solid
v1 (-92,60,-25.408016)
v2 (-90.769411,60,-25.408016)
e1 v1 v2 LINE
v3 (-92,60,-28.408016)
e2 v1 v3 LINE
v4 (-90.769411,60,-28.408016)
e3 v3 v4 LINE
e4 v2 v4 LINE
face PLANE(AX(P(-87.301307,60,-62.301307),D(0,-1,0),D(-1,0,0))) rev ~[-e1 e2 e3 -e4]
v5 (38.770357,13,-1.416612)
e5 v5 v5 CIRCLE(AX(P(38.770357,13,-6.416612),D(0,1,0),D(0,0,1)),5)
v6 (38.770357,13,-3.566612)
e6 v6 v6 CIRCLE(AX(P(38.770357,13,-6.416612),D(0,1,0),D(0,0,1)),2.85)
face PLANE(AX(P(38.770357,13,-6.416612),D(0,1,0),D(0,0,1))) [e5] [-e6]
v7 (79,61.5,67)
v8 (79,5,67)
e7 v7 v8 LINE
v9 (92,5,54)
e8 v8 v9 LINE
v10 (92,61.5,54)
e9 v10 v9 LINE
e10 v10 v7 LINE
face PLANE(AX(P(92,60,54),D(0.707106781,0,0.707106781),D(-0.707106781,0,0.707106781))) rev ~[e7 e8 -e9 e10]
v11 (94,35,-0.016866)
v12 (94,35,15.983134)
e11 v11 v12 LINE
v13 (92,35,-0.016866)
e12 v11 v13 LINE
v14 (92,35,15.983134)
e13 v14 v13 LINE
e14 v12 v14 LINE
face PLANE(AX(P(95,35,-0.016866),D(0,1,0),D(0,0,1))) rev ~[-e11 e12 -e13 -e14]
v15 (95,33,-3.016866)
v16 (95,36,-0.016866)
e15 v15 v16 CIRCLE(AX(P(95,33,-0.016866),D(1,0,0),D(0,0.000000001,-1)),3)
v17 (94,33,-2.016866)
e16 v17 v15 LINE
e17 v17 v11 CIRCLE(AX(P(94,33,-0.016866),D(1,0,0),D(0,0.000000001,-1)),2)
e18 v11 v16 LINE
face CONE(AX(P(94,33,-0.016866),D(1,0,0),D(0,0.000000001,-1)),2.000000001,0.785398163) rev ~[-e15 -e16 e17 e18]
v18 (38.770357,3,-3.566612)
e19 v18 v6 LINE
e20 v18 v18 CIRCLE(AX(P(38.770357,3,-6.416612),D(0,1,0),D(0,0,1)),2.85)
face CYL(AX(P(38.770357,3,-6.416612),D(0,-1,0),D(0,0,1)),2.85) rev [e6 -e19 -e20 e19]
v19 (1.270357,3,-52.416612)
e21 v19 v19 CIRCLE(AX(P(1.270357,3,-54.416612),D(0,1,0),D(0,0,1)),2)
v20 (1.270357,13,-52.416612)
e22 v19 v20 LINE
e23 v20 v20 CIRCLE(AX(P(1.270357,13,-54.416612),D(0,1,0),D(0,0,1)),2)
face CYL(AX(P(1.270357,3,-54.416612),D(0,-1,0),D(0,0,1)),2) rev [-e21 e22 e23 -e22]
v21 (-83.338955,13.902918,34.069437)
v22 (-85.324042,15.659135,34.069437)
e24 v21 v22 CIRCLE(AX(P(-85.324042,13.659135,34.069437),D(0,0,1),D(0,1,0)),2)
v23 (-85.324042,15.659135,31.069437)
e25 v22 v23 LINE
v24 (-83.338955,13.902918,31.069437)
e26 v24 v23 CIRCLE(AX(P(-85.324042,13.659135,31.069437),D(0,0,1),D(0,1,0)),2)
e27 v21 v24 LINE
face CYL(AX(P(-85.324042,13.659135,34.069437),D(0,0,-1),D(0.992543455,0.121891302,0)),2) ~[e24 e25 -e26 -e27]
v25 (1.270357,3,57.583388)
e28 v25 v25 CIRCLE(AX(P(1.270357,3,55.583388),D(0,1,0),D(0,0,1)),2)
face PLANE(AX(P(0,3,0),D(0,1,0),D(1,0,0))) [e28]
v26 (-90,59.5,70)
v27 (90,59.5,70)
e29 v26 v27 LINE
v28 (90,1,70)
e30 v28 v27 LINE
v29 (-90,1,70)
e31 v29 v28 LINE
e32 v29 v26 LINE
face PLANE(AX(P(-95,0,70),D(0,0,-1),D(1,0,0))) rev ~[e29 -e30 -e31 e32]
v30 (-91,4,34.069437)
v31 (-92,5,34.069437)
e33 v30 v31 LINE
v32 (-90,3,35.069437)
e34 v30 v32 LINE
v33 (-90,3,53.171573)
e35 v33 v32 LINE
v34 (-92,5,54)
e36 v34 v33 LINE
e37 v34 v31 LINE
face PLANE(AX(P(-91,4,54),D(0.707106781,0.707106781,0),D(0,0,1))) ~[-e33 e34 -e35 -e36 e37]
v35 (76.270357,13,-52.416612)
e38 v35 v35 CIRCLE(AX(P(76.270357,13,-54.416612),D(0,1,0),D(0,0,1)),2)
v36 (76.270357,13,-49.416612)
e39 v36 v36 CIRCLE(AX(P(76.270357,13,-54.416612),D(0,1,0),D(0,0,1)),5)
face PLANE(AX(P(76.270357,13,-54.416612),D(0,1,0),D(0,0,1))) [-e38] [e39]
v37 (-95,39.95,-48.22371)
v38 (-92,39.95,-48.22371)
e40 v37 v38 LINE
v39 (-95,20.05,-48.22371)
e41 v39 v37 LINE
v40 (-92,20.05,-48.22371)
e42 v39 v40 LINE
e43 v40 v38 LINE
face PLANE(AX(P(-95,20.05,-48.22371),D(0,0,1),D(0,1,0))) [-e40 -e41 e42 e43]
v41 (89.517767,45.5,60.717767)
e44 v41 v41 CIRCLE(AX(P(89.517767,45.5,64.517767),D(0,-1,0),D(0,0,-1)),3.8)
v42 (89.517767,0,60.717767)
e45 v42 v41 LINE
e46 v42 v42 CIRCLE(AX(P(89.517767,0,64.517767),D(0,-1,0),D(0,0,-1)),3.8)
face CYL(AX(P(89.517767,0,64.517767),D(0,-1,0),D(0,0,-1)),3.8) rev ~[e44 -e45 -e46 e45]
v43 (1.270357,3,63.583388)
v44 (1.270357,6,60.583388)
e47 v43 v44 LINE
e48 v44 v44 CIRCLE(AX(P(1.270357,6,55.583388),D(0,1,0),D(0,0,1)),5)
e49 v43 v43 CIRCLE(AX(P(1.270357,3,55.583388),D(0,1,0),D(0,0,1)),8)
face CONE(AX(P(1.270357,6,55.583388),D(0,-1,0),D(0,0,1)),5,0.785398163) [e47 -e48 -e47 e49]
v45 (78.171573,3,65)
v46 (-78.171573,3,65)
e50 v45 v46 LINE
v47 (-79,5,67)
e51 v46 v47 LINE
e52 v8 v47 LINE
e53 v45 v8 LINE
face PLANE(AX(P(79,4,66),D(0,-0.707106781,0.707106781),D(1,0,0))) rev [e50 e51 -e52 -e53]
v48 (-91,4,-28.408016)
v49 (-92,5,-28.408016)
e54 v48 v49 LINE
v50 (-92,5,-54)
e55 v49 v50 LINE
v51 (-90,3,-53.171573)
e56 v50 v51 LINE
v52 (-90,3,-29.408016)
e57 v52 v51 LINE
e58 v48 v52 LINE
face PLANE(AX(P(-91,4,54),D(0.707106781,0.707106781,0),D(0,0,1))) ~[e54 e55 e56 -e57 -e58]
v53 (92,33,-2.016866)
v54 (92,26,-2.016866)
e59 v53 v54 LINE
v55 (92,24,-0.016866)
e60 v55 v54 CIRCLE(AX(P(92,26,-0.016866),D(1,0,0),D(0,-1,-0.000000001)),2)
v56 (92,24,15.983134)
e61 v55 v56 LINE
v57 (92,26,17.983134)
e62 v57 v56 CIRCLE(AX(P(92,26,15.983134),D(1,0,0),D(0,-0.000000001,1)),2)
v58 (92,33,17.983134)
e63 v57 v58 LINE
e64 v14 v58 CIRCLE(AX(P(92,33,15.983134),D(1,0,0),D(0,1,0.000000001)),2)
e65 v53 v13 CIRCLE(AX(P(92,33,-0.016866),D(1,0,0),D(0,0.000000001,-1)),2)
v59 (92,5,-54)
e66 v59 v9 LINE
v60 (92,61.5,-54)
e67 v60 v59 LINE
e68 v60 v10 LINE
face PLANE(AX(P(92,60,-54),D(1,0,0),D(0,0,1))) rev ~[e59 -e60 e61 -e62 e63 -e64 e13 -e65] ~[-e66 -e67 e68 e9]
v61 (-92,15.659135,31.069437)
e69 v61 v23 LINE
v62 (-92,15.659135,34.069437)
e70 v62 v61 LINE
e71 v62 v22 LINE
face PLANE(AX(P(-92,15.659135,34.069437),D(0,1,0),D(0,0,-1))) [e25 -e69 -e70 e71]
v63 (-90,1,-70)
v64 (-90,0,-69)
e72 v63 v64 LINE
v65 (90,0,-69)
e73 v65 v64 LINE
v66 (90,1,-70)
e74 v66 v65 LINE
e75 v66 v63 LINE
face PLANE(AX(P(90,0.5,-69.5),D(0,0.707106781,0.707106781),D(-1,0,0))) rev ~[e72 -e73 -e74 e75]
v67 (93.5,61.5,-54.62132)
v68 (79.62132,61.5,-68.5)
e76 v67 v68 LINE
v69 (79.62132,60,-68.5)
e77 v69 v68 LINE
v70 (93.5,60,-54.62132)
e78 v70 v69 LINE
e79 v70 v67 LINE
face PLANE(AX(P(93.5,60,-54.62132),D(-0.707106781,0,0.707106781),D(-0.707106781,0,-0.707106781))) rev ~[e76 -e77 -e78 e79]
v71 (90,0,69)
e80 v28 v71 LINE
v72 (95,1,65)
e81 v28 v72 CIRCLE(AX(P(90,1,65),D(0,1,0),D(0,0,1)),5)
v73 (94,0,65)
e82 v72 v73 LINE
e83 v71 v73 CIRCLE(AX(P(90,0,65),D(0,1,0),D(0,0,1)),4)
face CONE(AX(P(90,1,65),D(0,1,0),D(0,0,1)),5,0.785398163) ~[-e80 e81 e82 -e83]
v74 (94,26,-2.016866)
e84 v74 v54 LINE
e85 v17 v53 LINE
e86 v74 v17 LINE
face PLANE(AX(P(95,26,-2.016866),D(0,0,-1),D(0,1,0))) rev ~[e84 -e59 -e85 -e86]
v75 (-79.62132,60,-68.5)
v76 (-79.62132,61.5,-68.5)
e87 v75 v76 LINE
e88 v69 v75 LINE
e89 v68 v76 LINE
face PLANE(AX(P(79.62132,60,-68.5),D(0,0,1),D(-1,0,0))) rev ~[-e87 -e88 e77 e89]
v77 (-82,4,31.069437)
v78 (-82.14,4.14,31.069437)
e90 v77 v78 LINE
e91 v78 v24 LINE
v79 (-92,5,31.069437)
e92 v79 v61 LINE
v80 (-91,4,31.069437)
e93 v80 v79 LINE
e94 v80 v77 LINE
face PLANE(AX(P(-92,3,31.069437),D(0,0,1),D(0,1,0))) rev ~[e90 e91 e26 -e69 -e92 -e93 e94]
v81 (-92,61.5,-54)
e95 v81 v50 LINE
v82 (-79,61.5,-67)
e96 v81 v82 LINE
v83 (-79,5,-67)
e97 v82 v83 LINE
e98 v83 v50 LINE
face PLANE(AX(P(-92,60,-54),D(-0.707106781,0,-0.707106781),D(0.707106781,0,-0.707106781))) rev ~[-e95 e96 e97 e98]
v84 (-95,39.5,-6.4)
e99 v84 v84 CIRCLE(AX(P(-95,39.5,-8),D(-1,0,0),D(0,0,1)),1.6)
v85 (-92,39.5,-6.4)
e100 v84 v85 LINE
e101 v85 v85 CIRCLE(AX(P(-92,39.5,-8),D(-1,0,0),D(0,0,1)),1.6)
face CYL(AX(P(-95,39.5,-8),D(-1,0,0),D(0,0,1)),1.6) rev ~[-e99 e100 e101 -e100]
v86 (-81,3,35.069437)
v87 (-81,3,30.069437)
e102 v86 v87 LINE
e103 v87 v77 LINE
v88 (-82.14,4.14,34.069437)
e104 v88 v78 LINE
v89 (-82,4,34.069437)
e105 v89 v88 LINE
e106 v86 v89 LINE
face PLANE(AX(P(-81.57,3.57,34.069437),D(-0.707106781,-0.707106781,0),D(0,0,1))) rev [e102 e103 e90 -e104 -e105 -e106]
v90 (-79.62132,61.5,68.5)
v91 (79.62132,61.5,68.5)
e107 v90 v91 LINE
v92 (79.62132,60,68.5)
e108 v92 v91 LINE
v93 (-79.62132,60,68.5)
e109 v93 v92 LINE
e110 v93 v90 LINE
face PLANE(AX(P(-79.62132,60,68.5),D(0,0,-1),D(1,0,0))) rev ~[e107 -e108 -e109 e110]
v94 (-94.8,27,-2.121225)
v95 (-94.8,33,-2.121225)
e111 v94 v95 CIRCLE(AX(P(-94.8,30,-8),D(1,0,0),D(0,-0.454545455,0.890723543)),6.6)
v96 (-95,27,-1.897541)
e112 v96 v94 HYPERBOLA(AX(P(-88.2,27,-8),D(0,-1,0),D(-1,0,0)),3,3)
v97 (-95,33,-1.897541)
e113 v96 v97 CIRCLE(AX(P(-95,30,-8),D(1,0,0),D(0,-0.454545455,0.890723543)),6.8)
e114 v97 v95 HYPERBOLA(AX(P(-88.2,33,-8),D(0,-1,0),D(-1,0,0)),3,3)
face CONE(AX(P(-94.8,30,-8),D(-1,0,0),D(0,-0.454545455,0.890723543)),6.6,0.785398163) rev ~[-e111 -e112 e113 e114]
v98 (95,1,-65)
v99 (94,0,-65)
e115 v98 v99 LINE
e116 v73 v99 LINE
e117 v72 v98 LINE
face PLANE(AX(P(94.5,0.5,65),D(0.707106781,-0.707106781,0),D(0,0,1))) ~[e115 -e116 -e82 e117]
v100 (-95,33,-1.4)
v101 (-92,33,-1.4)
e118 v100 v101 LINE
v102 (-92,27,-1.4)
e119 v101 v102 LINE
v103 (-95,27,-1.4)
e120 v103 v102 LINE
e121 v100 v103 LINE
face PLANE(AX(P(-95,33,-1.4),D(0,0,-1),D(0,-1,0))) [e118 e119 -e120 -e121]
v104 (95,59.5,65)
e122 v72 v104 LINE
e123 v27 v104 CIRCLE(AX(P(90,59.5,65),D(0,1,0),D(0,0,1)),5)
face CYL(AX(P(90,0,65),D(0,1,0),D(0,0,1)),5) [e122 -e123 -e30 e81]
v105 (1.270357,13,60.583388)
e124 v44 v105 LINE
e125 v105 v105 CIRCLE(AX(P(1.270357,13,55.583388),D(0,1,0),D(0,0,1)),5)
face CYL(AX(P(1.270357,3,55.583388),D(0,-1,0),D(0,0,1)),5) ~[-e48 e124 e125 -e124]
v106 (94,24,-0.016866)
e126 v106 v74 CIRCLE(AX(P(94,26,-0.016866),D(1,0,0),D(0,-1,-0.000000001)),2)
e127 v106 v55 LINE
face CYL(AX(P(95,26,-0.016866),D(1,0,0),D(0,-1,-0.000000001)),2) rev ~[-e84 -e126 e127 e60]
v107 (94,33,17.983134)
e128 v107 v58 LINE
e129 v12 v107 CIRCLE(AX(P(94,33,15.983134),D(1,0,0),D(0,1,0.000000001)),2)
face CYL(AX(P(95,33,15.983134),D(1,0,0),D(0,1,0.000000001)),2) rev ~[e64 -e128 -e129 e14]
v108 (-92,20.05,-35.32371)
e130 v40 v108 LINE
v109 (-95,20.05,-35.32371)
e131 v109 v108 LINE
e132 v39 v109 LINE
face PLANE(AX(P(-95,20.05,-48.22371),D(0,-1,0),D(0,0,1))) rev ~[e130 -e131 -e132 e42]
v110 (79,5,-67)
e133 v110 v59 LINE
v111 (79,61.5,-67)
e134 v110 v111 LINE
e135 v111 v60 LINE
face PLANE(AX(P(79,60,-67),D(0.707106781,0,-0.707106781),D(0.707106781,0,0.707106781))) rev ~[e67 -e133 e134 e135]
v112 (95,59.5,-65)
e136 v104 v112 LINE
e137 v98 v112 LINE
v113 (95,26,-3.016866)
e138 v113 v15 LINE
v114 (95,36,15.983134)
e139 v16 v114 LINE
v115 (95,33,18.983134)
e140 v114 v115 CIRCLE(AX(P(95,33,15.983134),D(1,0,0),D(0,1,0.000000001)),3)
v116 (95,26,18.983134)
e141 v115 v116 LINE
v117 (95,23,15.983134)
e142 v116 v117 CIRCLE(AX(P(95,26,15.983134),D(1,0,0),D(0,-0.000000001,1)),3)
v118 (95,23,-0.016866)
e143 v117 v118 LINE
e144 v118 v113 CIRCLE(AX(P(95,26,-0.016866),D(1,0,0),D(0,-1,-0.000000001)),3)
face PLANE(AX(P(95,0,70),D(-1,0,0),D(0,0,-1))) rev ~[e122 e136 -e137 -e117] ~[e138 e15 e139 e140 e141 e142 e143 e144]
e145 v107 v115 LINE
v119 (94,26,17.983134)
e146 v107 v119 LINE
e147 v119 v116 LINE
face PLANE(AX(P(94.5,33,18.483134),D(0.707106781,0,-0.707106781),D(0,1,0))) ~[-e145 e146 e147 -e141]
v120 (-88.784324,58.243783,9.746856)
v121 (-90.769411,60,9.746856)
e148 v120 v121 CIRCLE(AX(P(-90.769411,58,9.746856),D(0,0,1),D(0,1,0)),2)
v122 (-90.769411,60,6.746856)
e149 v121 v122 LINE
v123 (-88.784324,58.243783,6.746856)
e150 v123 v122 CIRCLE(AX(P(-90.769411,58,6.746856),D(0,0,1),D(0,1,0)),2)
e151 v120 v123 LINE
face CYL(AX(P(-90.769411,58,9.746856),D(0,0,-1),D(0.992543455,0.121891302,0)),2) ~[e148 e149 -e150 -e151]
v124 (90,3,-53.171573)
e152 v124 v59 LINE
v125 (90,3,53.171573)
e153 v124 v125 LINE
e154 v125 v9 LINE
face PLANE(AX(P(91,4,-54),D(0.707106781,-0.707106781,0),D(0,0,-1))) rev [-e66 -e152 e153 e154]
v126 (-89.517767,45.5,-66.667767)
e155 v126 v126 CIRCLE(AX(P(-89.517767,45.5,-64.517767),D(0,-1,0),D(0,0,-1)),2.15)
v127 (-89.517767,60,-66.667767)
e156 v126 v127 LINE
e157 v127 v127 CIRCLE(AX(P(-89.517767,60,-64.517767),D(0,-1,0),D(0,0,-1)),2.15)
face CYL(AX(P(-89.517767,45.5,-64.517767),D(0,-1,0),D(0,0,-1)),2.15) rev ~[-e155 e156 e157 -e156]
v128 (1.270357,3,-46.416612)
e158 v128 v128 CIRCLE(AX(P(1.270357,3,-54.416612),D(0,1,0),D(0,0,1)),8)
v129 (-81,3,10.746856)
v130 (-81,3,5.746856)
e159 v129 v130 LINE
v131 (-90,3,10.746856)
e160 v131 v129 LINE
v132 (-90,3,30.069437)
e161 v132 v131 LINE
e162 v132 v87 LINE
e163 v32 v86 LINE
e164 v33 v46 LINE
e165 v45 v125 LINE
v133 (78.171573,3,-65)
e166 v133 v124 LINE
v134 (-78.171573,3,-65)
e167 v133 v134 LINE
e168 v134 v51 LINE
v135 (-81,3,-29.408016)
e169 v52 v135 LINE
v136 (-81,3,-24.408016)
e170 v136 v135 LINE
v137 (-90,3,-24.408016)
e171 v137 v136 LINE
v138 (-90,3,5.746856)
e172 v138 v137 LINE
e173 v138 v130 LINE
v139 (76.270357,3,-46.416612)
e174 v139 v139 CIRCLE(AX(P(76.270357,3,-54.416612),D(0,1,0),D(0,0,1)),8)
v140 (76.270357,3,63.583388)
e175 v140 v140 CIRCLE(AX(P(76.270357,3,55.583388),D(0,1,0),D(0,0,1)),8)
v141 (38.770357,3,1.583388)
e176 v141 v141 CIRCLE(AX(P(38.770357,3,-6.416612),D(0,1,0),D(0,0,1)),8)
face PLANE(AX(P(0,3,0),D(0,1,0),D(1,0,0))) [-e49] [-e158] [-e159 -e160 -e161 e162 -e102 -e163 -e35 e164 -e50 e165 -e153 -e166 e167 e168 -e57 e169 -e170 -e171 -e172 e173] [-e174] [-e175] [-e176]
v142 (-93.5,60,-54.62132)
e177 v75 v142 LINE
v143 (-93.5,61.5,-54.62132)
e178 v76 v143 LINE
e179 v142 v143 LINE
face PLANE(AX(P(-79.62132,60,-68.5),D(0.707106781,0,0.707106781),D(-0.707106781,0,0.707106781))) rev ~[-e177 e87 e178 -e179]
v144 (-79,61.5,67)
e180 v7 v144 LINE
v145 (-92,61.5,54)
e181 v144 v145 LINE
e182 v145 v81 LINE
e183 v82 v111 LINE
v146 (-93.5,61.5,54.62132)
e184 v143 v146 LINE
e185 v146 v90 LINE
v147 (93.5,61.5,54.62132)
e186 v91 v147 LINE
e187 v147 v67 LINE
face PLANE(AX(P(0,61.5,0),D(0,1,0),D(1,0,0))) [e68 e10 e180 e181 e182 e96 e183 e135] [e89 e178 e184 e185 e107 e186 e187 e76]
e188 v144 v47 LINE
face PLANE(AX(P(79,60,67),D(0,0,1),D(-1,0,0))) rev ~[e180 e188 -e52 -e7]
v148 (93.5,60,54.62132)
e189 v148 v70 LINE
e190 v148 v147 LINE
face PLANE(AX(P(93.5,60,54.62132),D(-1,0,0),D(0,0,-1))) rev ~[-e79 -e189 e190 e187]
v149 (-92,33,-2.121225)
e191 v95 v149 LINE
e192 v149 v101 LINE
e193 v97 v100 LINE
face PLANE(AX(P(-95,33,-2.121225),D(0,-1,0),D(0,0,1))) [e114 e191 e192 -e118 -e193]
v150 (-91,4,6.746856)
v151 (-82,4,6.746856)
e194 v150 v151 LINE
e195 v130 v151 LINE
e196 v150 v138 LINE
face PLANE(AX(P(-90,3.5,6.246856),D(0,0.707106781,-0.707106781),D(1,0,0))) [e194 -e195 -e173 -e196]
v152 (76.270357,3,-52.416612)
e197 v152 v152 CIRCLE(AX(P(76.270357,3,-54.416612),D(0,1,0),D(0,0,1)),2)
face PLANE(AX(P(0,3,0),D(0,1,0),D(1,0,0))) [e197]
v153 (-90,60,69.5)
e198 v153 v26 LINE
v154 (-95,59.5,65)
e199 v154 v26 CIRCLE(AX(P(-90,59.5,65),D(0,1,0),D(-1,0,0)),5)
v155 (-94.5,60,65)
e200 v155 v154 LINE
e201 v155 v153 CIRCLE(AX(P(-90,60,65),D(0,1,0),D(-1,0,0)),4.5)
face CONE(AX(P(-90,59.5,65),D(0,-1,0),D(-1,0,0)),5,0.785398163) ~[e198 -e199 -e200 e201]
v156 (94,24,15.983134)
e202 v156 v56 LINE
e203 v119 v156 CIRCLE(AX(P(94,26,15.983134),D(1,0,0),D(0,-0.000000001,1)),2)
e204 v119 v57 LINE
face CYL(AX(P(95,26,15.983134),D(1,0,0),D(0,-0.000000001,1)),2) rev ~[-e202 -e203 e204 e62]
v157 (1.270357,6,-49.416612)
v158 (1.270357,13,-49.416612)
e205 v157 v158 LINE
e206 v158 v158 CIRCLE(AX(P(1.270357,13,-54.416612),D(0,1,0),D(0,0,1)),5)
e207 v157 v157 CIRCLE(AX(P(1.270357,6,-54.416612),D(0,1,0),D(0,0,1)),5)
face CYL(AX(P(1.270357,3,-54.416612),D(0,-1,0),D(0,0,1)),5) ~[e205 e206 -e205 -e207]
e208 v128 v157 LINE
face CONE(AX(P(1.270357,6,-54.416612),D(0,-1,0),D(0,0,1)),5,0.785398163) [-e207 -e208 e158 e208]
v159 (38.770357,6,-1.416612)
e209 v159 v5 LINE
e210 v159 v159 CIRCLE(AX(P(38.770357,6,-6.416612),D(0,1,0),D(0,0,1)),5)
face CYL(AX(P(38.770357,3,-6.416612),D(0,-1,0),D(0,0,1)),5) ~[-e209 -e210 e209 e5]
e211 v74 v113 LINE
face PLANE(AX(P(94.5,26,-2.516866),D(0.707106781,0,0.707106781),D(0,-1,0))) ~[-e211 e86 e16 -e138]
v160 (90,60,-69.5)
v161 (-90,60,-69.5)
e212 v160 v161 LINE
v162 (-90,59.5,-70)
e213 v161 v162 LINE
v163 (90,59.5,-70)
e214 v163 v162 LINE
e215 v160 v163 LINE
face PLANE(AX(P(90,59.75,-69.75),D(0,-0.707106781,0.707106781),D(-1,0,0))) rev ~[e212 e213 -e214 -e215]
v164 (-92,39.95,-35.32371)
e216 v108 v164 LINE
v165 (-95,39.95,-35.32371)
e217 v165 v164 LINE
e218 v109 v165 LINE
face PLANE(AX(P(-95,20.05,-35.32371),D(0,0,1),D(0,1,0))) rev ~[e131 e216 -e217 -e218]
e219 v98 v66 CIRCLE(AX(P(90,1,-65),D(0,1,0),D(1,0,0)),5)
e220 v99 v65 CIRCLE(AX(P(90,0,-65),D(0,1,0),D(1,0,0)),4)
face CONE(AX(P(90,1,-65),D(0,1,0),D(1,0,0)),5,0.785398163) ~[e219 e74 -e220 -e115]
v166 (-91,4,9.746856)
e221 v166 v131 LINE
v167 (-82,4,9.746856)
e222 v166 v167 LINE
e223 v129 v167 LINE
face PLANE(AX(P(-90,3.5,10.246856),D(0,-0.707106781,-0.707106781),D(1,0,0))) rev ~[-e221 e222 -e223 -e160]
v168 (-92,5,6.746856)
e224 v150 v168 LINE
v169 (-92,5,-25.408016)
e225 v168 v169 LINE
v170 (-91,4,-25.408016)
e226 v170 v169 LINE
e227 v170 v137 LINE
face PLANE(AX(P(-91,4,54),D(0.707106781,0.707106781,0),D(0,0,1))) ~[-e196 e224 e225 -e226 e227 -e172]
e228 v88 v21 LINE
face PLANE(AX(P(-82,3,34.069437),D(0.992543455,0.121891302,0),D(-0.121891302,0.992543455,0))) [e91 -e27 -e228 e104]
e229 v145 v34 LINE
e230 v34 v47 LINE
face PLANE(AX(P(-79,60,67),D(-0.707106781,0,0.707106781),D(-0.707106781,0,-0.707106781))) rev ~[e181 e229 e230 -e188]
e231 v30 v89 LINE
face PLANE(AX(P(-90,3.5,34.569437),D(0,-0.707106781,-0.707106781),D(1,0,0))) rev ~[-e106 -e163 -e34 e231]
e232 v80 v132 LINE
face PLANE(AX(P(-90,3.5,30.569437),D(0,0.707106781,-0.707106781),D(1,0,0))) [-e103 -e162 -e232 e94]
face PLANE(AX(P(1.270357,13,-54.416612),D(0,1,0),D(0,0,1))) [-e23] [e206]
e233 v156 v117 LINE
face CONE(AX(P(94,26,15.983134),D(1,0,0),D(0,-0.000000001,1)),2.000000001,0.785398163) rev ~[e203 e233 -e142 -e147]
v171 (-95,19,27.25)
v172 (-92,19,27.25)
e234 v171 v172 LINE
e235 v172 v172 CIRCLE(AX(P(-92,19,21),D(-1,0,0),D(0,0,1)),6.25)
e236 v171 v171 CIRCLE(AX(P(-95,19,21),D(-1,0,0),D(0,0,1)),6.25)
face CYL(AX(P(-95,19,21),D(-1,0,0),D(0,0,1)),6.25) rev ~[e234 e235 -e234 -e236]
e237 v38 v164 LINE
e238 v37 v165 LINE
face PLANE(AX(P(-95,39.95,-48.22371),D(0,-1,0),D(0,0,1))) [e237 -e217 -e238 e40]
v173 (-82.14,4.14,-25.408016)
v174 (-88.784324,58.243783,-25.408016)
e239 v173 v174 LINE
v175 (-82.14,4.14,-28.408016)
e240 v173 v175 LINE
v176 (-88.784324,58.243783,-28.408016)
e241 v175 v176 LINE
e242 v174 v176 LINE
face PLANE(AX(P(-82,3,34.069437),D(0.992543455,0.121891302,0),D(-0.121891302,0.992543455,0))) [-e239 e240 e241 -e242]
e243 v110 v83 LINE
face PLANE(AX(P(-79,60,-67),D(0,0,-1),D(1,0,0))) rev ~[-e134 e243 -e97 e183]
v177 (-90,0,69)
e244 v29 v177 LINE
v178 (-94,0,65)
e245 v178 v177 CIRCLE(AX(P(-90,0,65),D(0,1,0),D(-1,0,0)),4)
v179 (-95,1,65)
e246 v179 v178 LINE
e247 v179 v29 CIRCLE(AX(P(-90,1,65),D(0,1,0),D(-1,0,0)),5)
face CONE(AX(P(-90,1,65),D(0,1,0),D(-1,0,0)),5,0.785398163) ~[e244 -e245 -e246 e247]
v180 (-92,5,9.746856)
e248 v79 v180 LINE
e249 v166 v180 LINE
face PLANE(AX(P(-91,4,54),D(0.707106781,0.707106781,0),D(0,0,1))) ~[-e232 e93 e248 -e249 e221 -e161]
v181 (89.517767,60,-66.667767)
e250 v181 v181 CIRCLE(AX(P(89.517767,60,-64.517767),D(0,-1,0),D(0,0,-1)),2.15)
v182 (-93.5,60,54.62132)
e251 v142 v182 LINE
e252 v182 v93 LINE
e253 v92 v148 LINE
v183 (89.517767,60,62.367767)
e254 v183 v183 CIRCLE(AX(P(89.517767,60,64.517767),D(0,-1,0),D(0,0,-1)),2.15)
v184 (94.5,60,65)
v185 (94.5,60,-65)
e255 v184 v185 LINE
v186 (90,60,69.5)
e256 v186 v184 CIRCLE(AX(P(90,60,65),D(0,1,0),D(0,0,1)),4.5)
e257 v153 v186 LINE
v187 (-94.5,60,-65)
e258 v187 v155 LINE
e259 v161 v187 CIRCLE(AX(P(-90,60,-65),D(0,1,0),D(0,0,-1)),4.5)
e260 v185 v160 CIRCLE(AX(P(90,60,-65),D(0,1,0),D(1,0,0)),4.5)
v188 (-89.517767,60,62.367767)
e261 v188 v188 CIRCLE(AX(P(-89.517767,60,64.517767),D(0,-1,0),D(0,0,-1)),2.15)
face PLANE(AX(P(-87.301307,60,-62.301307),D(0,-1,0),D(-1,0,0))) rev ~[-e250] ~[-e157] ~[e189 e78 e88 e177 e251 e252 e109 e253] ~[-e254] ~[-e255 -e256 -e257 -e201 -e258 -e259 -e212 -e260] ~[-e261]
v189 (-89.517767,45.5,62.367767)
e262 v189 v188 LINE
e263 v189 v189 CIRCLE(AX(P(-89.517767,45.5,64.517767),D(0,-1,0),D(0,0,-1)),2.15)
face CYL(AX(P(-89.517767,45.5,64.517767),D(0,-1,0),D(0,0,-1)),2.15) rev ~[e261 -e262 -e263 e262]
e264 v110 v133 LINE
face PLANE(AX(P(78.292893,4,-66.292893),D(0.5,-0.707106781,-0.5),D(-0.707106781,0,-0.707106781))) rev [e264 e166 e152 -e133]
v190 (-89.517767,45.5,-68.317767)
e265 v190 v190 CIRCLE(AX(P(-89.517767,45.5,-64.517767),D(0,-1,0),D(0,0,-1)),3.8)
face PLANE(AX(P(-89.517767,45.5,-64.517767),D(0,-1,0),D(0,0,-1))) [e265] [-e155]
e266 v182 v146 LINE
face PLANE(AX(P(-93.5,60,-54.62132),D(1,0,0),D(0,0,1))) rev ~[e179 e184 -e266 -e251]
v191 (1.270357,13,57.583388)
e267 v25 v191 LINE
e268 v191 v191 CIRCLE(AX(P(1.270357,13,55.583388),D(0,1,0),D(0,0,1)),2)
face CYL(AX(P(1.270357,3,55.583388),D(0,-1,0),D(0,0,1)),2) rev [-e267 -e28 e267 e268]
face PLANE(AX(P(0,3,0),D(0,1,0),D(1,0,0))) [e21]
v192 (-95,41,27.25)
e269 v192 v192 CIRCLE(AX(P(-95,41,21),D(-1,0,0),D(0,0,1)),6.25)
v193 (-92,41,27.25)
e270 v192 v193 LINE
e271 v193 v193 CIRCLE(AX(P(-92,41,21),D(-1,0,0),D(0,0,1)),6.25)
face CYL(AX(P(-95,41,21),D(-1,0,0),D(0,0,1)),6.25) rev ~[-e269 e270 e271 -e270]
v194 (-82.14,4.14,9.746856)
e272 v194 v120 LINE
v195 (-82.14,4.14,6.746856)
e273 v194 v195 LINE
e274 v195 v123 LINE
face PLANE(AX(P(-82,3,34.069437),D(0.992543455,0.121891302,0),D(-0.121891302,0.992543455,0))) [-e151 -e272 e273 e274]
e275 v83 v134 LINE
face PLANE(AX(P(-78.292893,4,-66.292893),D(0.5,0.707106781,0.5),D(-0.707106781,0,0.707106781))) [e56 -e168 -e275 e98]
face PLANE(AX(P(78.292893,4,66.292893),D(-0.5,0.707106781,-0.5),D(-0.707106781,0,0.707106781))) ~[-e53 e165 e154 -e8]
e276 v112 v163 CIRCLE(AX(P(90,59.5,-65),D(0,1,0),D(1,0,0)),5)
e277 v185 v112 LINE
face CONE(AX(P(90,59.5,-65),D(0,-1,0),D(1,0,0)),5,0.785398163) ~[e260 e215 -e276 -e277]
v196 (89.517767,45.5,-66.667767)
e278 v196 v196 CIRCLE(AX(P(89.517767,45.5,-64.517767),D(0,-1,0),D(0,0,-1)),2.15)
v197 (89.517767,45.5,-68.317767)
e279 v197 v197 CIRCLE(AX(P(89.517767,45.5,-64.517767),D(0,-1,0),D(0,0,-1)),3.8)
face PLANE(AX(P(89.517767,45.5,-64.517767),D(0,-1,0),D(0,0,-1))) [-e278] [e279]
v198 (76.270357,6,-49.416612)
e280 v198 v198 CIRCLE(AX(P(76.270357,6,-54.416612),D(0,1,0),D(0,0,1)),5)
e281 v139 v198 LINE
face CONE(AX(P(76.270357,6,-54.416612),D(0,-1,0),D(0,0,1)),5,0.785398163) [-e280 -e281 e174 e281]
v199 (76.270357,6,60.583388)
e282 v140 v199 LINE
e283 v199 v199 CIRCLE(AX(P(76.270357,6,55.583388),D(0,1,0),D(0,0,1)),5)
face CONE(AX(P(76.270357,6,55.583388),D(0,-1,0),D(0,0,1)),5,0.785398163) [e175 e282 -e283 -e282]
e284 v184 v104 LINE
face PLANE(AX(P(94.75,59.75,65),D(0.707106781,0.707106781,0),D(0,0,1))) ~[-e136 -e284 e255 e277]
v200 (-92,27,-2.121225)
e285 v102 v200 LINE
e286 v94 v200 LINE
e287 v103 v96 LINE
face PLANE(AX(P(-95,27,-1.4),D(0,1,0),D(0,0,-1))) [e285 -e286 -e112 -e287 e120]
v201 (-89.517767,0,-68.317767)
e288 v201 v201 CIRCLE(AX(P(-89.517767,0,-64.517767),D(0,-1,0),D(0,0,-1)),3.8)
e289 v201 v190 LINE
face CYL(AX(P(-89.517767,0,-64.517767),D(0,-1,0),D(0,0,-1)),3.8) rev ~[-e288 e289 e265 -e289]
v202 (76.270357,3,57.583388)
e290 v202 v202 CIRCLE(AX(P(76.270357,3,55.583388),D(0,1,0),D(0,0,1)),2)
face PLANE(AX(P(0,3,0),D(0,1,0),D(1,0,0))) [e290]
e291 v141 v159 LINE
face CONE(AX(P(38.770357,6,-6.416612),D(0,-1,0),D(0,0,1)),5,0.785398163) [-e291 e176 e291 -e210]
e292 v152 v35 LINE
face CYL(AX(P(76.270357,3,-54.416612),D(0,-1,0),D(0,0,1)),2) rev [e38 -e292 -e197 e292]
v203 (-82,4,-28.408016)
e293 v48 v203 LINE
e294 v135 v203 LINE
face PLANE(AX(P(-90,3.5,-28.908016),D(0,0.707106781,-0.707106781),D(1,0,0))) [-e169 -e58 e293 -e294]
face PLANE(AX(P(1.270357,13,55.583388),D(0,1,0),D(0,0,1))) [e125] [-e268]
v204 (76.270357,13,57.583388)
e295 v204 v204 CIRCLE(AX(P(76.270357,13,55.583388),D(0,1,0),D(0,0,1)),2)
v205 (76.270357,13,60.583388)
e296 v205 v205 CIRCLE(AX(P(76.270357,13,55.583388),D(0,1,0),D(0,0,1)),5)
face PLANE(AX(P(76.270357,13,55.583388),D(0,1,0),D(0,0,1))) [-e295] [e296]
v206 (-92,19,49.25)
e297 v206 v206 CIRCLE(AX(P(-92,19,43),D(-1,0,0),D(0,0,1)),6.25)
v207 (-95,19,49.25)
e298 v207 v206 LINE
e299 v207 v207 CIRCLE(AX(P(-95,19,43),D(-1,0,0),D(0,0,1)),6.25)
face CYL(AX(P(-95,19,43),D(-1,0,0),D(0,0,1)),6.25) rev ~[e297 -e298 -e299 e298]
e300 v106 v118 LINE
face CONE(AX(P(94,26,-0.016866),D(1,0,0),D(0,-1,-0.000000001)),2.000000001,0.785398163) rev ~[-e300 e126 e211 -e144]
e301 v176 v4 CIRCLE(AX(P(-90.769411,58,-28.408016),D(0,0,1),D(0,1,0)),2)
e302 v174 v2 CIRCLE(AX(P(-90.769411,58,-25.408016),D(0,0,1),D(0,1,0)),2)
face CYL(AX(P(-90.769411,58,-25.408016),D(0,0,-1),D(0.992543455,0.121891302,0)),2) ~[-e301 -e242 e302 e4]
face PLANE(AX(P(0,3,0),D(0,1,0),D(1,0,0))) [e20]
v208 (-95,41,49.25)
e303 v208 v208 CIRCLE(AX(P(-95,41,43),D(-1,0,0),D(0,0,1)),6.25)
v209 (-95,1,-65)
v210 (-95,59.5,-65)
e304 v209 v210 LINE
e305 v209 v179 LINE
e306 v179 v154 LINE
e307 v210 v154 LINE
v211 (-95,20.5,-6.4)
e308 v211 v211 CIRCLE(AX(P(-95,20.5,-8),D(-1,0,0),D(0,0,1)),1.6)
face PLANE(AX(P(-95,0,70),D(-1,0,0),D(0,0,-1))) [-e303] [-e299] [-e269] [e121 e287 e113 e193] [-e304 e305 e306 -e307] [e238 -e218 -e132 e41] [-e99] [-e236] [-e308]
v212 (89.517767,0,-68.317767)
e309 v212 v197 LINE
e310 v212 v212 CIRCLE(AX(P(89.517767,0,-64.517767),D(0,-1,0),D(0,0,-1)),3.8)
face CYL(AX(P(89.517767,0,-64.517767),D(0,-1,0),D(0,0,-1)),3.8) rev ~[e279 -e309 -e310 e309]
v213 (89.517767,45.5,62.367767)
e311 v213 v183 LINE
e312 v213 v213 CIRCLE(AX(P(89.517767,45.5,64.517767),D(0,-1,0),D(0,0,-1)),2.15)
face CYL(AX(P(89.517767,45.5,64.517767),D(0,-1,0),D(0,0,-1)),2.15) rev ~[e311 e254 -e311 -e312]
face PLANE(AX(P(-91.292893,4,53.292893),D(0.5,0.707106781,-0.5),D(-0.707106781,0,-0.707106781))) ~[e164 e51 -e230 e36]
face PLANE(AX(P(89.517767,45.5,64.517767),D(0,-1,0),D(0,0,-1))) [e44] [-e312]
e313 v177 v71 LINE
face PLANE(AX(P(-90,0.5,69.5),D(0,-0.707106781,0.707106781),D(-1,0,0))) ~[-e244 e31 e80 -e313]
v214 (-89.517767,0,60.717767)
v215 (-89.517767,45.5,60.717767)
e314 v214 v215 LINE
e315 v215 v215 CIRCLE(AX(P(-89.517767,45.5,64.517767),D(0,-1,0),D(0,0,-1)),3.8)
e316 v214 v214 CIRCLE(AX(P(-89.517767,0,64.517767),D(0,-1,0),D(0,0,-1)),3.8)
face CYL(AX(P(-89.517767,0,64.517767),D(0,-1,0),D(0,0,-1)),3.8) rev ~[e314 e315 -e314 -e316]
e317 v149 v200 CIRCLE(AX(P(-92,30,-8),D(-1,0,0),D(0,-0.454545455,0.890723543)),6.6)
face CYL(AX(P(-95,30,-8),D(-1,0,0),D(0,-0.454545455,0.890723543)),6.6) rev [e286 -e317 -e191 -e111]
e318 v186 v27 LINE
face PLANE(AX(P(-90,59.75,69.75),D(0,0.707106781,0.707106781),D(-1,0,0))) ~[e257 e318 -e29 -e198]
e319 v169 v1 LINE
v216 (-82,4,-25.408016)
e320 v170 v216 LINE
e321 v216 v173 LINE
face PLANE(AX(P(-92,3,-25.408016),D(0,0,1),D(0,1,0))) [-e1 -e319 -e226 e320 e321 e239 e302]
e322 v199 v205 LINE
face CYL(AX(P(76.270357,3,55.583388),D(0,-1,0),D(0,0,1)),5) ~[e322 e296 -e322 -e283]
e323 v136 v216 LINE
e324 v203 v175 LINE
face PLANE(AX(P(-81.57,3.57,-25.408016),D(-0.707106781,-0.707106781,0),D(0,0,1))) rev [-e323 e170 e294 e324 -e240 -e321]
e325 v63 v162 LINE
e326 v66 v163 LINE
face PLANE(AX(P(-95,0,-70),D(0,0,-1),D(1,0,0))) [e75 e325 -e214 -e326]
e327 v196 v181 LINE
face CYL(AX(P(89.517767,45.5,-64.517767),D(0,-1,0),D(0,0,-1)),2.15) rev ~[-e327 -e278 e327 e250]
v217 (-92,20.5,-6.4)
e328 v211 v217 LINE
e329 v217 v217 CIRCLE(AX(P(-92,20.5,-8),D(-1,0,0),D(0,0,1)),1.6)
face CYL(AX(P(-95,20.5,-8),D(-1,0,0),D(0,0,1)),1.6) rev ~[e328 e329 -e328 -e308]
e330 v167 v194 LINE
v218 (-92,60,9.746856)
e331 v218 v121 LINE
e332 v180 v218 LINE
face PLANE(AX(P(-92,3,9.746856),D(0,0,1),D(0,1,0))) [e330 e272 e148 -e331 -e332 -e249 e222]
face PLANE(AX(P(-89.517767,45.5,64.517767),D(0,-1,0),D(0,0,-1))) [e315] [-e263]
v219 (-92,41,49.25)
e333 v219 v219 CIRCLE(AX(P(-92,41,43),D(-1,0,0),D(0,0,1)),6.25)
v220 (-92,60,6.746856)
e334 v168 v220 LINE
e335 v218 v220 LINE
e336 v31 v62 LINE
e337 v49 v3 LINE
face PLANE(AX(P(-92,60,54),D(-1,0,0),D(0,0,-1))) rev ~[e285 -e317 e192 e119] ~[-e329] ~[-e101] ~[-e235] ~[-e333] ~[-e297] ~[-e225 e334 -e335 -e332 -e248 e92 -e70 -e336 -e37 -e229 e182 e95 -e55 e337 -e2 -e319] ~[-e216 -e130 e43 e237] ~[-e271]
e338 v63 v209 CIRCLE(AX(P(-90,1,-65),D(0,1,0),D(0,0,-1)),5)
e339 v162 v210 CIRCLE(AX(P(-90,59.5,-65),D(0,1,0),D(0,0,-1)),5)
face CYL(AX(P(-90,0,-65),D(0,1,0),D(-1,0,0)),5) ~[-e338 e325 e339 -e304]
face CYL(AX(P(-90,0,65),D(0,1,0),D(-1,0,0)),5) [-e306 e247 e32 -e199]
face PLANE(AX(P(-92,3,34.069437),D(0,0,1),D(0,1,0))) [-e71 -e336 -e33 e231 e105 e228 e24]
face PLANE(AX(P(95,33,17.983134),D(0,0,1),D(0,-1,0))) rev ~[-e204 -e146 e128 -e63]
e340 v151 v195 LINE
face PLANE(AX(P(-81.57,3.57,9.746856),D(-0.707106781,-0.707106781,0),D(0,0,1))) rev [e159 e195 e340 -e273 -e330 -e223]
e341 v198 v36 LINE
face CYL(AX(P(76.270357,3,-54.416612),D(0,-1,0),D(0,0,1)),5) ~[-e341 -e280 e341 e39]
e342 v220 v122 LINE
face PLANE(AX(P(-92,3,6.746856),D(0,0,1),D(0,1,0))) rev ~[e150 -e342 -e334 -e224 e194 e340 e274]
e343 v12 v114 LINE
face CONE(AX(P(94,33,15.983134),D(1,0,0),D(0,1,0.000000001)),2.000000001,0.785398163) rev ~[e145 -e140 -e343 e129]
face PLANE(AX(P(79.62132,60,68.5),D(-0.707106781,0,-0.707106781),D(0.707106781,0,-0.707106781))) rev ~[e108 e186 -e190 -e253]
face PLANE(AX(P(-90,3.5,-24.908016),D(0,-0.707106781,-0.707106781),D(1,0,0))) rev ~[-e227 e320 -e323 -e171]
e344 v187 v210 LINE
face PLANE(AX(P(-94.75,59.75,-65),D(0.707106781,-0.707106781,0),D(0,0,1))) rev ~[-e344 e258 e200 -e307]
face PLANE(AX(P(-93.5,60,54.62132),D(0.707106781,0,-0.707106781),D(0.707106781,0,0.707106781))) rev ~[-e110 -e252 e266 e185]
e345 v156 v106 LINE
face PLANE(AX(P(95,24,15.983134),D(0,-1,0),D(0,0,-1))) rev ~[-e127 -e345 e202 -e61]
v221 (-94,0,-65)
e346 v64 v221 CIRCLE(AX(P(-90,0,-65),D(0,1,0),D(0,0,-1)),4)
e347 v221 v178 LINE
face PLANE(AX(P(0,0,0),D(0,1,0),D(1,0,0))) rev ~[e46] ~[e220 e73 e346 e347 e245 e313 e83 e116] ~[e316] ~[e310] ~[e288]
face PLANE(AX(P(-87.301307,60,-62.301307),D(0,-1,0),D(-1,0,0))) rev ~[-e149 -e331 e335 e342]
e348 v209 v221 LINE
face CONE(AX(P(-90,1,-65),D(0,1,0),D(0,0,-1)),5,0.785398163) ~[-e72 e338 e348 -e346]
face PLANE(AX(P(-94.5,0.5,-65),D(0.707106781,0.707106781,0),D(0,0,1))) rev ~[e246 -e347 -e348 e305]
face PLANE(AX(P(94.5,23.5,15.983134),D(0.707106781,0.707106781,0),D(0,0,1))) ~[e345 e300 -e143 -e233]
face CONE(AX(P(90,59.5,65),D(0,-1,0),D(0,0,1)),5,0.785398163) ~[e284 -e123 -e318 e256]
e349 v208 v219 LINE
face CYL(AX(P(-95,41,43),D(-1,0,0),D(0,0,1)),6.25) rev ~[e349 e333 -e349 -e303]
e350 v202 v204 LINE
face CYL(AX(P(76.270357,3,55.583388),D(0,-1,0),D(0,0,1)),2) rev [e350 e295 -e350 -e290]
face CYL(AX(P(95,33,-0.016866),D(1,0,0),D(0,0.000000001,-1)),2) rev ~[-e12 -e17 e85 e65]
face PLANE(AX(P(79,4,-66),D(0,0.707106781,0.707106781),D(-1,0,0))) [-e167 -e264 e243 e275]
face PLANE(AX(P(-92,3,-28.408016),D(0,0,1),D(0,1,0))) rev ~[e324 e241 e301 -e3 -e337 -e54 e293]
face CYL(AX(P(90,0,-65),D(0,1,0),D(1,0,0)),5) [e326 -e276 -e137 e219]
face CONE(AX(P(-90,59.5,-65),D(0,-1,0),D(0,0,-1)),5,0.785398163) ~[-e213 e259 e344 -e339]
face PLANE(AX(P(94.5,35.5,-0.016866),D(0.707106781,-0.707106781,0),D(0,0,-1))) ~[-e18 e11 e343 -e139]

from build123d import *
from OCP.BRepFilletAPI import BRepFilletAPI_MakeChamfer

# Parameters (mm, degrees)
SKETCH2_W                      = 190
SKETCH2_H                      = 140
ENCLOSURE_BODY_DEPTH           = 60
FILLET1_R                      = 5
SHELL1_T                       = -3
SKETCH3_R                      = 5
SKETCH3_R_2                    = 2
SKETCH3_R_3                    = 2.85
PCB_SUPPORTS_DEPTH             = 10
ENCLOSURE_START                = 57
ENCLOSURE_CORNER_FLANGES_DEPTH = 57
SKETCH8_R                      = 3.8
CUT_EXTRUDE1_DEPTH             = 45.5
SKETCH9_R                      = 2.15
CUT_EXTRUDE2_DEPTH             = 127.472328989
CHAMFER1_SIZE                  = 2
USB_CUTOUT_DEPTH               = 6
SKETCH11_R                     = 1.6
SKETCH11_R_2                   = 6.25
SKETCH11_W                     = 12.9
SKETCH11_H                     = 19.9
BUTTON_CUTOUTS_DEPTH           = 6
CHAMFER3_SIZE                  = 1
SKETCH15_W                     = 3
SKETCH15_H                     = 12.65913529
SKETCH15_H_2                   = 57
BOSS_EXTRUDE6_DEPTH            = 10
CUT_EXTRUDE3_REACH             = 155.152
CHAMFER4_SIZE                  = 3
FILLET2_R                      = 2
BOSS_EXTRUDE7_DEPTH            = 1.5
CHAMFER5_SIZE                  = 1
CHAMFER5_SIZE2                 = 1.148564321
CHAMFER6_SIZE                  = 1
CHAMFER7_SIZE                  = 0.2
CHAMFER8_SIZE                  = 0.5


with BuildPart() as part:
    # Sketch2 → Enclosure body (new body)
    with BuildSketch(Plane(origin=(0, 0, 0), x_dir=(1, 0, 0), z_dir=(0, 1, 0))):
        Rectangle(SKETCH2_W, SKETCH2_H)
    extrude(amount=ENCLOSURE_BODY_DEPTH)

    # Fillet1
    fillet1_edges = [part.edges().sort_by_distance(p)[0] for p in [
        (95, 30, 70),
        (-95, 30, 70),
        (-95, 30, -70),
        (95, 30, -70),
    ]]
    fillet(fillet1_edges, radius=FILLET1_R)

    # Shell1
    shell1_openings = [part.faces().sort_by_distance(p)[0] for p in [
        (0, 60, 0),
    ]]
    offset(amount=SHELL1_T, openings=shell1_openings, kind=Kind.INTERSECTION)

    # Sketch3 → PCB Supports (add)
    # profile 1 of 5: a face of its own
    with BuildSketch(Plane(origin=(0, 3, 0), x_dir=(1, 0, 0), z_dir=(0, 1, 0))):
        with Locations(Location((1.270356621, 54.416611673, 0), (0, 0, 270))):
            Circle(SKETCH3_R)
        with Locations(Location((1.270356621, 54.416611673, 0), (0, 0, 270))):
            Circle(SKETCH3_R_2, mode=Mode.SUBTRACT)
    # profile 2 of 5: a face of its own
    with BuildSketch(Plane(origin=(0, 3, 0), x_dir=(1, 0, 0), z_dir=(0, 1, 0))):
        with Locations(Location((76.270356621, 54.416611673, 0), (0, 0, 270))):
            Circle(SKETCH3_R)
        with Locations(Location((76.270356621, 54.416611673, 0), (0, 0, 270))):
            Circle(SKETCH3_R_2, mode=Mode.SUBTRACT)
    # profile 3 of 5: a face of its own
    with BuildSketch(Plane(origin=(0, 3, 0), x_dir=(1, 0, 0), z_dir=(0, 1, 0))):
        with Locations(Location((76.270356621, -55.583388327, 0), (0, 0, 270))):
            Circle(SKETCH3_R)
        with Locations(Location((76.270356621, -55.583388327, 0), (0, 0, 270))):
            Circle(SKETCH3_R_2, mode=Mode.SUBTRACT)
    # profile 4 of 5: a face of its own
    with BuildSketch(Plane(origin=(0, 3, 0), x_dir=(1, 0, 0), z_dir=(0, 1, 0))):
        with Locations(Location((1.270356621, -55.583388327, 0), (0, 0, 270))):
            Circle(SKETCH3_R)
        with Locations(Location((1.270356621, -55.583388327, 0), (0, 0, 270))):
            Circle(SKETCH3_R_2, mode=Mode.SUBTRACT)
    # profile 5 of 5: a face of its own
    with BuildSketch(Plane(origin=(0, 3, 0), x_dir=(1, 0, 0), z_dir=(0, 1, 0))):
        with Locations(Location((38.770356621, 6.416611673, 0), (0, 0, 270))):
            Circle(SKETCH3_R)
        with Locations(Location((38.770356621, 6.416611673, 0), (0, 0, 270))):
            Circle(SKETCH3_R_3, mode=Mode.SUBTRACT)
    extrude(amount=PCB_SUPPORTS_DEPTH)

    # Sketch6 → Enclosure corner flanges (add)
    with BuildSketch(Plane(origin=(0, 3, 0), x_dir=(1, 0, 0), z_dir=(0, 1, 0)).offset(ENCLOSURE_START)):
        with BuildLine():
            Line((-79, 67), (-92, 54))
            Line((-92, 54), (-92, 65))
            ThreePointArc((-92, 65), (-91.414213562, 66.414213562), (-90, 67))
            Line((-90, 67), (-79, 67))
        make_face()
        with BuildLine():
            Line((-92, -54), (-79, -67))
            Line((-79, -67), (-90, -67))
            ThreePointArc((-90, -67), (-91.414213562, -66.414213562), (-92, -65))
            Line((-92, -65), (-92, -54))
        make_face()
        with BuildLine():
            Line((79, -67), (92, -54))
            Line((92, -54), (92, -65))
            ThreePointArc((92, -65), (91.414213562, -66.414213562), (90, -67))
            Line((90, -67), (79, -67))
        make_face()
        with BuildLine():
            Line((79, 67), (92, 54))
            Line((92, 54), (92, 65))
            ThreePointArc((92, 65), (91.414213562, 66.414213562), (90, 67))
            Line((90, 67), (79, 67))
        make_face()
    extrude(amount=-ENCLOSURE_CORNER_FLANGES_DEPTH)

    # Sketch8 → Cut-Extrude1 (cut)
    with BuildSketch(Plane.XZ):
        with Locations(Location((89.517766953, -64.517766953, 0), (0, 0, 270))):
            Circle(SKETCH8_R)
        with Locations(Location((89.517766953, 64.517766953, 0), (0, 0, 270))):
            Circle(SKETCH8_R)
        with Locations(Location((-89.517766953, 64.517766953, 0), (0, 0, 270))):
            Circle(SKETCH8_R)
        with Locations(Location((-89.517766953, -64.517766953, 0), (0, 0, 270))):
            Circle(SKETCH8_R)
    extrude(amount=-CUT_EXTRUDE1_DEPTH, mode=Mode.SUBTRACT)

    # Sketch9 → Cut-Extrude2 (cut, through all)
    with BuildSketch(Plane.XZ.offset(-45.5)):
        with Locations(Location((-89.517766953, 64.517766953, 0), (0, 0, 270))):
            Circle(SKETCH9_R)
        with Locations(Location((89.517766953, 64.517766953, 0), (0, 0, 270))):
            Circle(SKETCH9_R)
        with Locations(Location((89.517766953, -64.517766953, 0), (0, 0, 270))):
            Circle(SKETCH9_R)
        with Locations(Location((-89.517766953, -64.517766953, 0), (0, 0, 270))):
            Circle(SKETCH9_R)
    extrude(amount=-CUT_EXTRUDE2_DEPTH, mode=Mode.SUBTRACT)

    # Chamfer1
    chamfer1_edges = [part.edges().sort_by_distance(p)[0] for p in [
        (0, 3, 67),
        (92, 3, 0),
        (0, 3, -67),
        (-92, 3, 0),
        (-85.5, 3, 60.5),
        (85.5, 3, -60.5),
        (-85.5, 3, -60.5),
        (85.5, 3, 60.5),
    ]]
    chamfer(chamfer1_edges, length=CHAMFER1_SIZE)

    # Sketch10 → USB cutout (cut)
    with BuildSketch(Plane(origin=(95, 0, -30), x_dir=(0, 0, 1), z_dir=(-1, 0, 0))):
        with BuildLine():
            Line((29.983133645, 35), (45.983133645, 35))
            ThreePointArc((45.983133645, 35), (47.397347207, 34.414213562), (47.983133645, 33))
            Line((47.983133645, 33), (47.983133645, 26))
            ThreePointArc((47.983133645, 26), (47.397347207, 24.585786438), (45.983133645, 24))
            Line((45.983133645, 24), (29.983133645, 24))
            ThreePointArc((29.983133645, 24), (28.568920083, 24.585786438), (27.983133645, 26))
            Line((27.983133645, 26), (27.983133645, 33))
            ThreePointArc((27.983133645, 33), (28.568920083, 34.414213562), (29.983133645, 35))
        make_face()
    extrude(amount=USB_CUTOUT_DEPTH, mode=Mode.SUBTRACT)

    # Sketch11 → Button cutouts (cut)
    with BuildSketch(Plane.ZY.offset(95)):
        with Locations((-8, 39.5)):
            Circle(SKETCH11_R)
        with Locations((-8, 20.5)):
            Circle(SKETCH11_R)
        with Locations((21, 41)):
            Circle(SKETCH11_R_2)
        with Locations((21, 19)):
            Circle(SKETCH11_R_2)
        with Locations((43, 19)):
            Circle(SKETCH11_R_2)
        with Locations((43, 41)):
            Circle(SKETCH11_R_2)
        with BuildLine():
            Line((-2.121224617, 33), (-1.4, 33))
            Line((-1.4, 33), (-1.4, 27))
            Line((-1.4, 27), (-2.121224617, 27))
            ThreePointArc((-2.121224617, 27), (-14.6, 30), (-2.121224617, 33))
        make_face()
        with Locations((-41.773709578, 30)):
            Rectangle(SKETCH11_W, SKETCH11_H)
    extrude(amount=-BUTTON_CUTOUTS_DEPTH, mode=Mode.SUBTRACT)

    # Chamfer3
    chamfer3_edges = [part.edges().sort_by_distance(p)[0] for p in [
        (0, 0, 70),
        (95, 0, 0),
        (-95, 0, 0),
        (0, 0, -70),
        (93.535533906, 0, 68.535533906),
        (93.535533906, 0, -68.535533906),
        (-93.535533906, 0, -68.535533906),
        (-93.535533906, 0, 68.535533906),
    ]]
    chamfer(chamfer3_edges, length=CHAMFER3_SIZE)

    # Sketch15 → Boss-Extrude6 (add)
    with BuildSketch(Plane(origin=(-92, 0, 0), x_dir=(0, 0, -1), z_dir=(1, 0, 0))):
        with Locations((-32.569436541, 9.329567645)):
            Rectangle(SKETCH15_W, SKETCH15_H)
        with Locations((26.908015772, 31.5)):
            Rectangle(SKETCH15_W, SKETCH15_H_2)
        with Locations((-8.246855947, 31.5)):
            Rectangle(SKETCH15_W, SKETCH15_H_2)
    extrude(amount=BOSS_EXTRUDE6_DEPTH)

    # Cut-Extrude3: up to this face of the body (flat: up to its plane)
    cut_extrude3_end = Plane(part.part.faces().sort_by_distance((-86.984741784, 31.598004695, -28.408015772))[0])
    # Sketch16 → Cut-Extrude3 (cut, up to the picked face)
    with BuildSketch(Plane.XY.offset(34.069436541), mode=Mode.PRIVATE) as cut_extrude3_sk1:
        Polygon((-82, 60), (-82, 3), (-89, 60), align=None)
    cut_extrude3_tool1 = split(extrude(cut_extrude3_sk1.sketch, amount=-CUT_EXTRUDE3_REACH, mode=Mode.PRIVATE), bisect_by=cut_extrude3_end, keep=Keep.BOTH, mode=Mode.PRIVATE)
    add(cut_extrude3_tool1.solids().sort_by(Axis((-84.333333, 41, 34.069437), (0, 0, -1)))[0], mode=Mode.SUBTRACT)

    # Chamfer4
    chamfer4_edges = [part.edges().sort_by_distance(p)[0] for p in [
        (1.270356621, 3, 50.583388327),
        (76.270356621, 3, 50.583388327),
        (76.270356621, 3, -59.416611673),
        (1.270356621, 3, -59.416611673),
        (38.770356621, 3, -11.416611673),
    ]]
    chamfer(chamfer4_edges, length=CHAMFER4_SIZE)

    # Fillet2
    fillet2_edges = [part.edges().sort_by_distance(p)[0] for p in [
        (-89, 60, 8.246855947),
        (-89, 60, -26.908015772),
        (-83.55463065, 15.65913529, 32.569436541),
    ]]
    fillet(fillet2_edges, radius=FILLET2_R)

    # Sketch17 → Boss-Extrude7 (add)
    with BuildSketch(Plane(origin=(0, 60, 0), x_dir=(1, 0, 0), z_dir=(0, 1, 0))):
        Polygon((-93.5, 54.621320344), (-93.5, -54.621320344), (-79.621320344, -68.5), (79.621320344, -68.5), (93.5, -54.621320344), (93.5, 54.621320344), (79.621320344, 68.5), (-79.621320344, 68.5), align=None)
        Polygon((79, 67), (92, 54), (92, -54), (79, -67), (-79, -67), (-92, -54), (-92, 54), (-79, 67), align=None, mode=Mode.SUBTRACT)
    extrude(amount=BOSS_EXTRUDE7_DEPTH)

    # Chamfer5: one chamfer whose edges measure the first distance from different faces: ONE call of the kernel's chamfer builder (chamfer() names one face for all edges)
    chamfer5_edges_1 = [part.edges().sort_by_distance(p)[0] for p in [
        (-86, 3, 34.069436541),
        (-86, 3, 31.069436541),
        (-86, 3, -25.408015772),
        (-86, 3, -28.408015772),
        (-86, 3, 9.746855947),
        (-86, 3, 6.746855947),
    ]]
    chamfer5_edges_2 = [part.edges().sort_by_distance(p)[0] for p in [
        (-82, 3, 32.569436541),
        (-82, 3, -26.908015772),
        (-82, 3, 8.246855947),
    ]]
    chamfer5_side_2 = [part.faces().sort_by_distance(p)[0] for p in [
        (-1.487293538, 3, 0.022100072),
    ]]
    chamfer5 = BRepFilletAPI_MakeChamfer(part.part.solid().wrapped)
    for e in chamfer5_edges_1:
        chamfer5.Add(CHAMFER5_SIZE, e.wrapped)
    for e in chamfer5_edges_2:
        chamfer5.Add(CHAMFER5_SIZE, CHAMFER5_SIZE2, e.wrapped, chamfer5_side_2[0].wrapped)  # the first distance lies on this face
    add(Compound.cast(chamfer5.Shape()), mode=Mode.REPLACE)

    # Chamfer6
    chamfer6_edges = [part.edges().sort_by_distance(p)[0] for p in [
        (95, 34.414213562, 17.397347207),
        (95, 35, 7.983133645),
        (95, 34.414213562, -1.431079917),
        (95, 29.5, -2.016866355),
        (95, 24.585786438, -1.431079917),
        (95, 24, 7.983133645),
        (95, 24.585786438, 17.397347207),
        (95, 29.5, 17.983133645),
    ]]
    chamfer(chamfer6_edges, length=CHAMFER6_SIZE)

    # Chamfer7
    chamfer7_edges = [part.edges().sort_by_distance(p)[0] for p in [
        (-95, 30, -14.6),
    ]]
    chamfer(chamfer7_edges, length=CHAMFER7_SIZE)

    # Chamfer8
    chamfer8_edges = [part.edges().sort_by_distance(p)[0] for p in [
        (0, 60, 70),
        (-95, 60, 0),
        (95, 60, 0),
        (0, 60, -70),
        (93.535533906, 60, 68.535533906),
        (93.535533906, 60, -68.535533906),
        (-93.535533906, 60, -68.535533906),
        (-93.535533906, 60, 68.535533906),
    ]]
    chamfer(chamfer8_edges, length=CHAMFER8_SIZE)


solid = part.part
